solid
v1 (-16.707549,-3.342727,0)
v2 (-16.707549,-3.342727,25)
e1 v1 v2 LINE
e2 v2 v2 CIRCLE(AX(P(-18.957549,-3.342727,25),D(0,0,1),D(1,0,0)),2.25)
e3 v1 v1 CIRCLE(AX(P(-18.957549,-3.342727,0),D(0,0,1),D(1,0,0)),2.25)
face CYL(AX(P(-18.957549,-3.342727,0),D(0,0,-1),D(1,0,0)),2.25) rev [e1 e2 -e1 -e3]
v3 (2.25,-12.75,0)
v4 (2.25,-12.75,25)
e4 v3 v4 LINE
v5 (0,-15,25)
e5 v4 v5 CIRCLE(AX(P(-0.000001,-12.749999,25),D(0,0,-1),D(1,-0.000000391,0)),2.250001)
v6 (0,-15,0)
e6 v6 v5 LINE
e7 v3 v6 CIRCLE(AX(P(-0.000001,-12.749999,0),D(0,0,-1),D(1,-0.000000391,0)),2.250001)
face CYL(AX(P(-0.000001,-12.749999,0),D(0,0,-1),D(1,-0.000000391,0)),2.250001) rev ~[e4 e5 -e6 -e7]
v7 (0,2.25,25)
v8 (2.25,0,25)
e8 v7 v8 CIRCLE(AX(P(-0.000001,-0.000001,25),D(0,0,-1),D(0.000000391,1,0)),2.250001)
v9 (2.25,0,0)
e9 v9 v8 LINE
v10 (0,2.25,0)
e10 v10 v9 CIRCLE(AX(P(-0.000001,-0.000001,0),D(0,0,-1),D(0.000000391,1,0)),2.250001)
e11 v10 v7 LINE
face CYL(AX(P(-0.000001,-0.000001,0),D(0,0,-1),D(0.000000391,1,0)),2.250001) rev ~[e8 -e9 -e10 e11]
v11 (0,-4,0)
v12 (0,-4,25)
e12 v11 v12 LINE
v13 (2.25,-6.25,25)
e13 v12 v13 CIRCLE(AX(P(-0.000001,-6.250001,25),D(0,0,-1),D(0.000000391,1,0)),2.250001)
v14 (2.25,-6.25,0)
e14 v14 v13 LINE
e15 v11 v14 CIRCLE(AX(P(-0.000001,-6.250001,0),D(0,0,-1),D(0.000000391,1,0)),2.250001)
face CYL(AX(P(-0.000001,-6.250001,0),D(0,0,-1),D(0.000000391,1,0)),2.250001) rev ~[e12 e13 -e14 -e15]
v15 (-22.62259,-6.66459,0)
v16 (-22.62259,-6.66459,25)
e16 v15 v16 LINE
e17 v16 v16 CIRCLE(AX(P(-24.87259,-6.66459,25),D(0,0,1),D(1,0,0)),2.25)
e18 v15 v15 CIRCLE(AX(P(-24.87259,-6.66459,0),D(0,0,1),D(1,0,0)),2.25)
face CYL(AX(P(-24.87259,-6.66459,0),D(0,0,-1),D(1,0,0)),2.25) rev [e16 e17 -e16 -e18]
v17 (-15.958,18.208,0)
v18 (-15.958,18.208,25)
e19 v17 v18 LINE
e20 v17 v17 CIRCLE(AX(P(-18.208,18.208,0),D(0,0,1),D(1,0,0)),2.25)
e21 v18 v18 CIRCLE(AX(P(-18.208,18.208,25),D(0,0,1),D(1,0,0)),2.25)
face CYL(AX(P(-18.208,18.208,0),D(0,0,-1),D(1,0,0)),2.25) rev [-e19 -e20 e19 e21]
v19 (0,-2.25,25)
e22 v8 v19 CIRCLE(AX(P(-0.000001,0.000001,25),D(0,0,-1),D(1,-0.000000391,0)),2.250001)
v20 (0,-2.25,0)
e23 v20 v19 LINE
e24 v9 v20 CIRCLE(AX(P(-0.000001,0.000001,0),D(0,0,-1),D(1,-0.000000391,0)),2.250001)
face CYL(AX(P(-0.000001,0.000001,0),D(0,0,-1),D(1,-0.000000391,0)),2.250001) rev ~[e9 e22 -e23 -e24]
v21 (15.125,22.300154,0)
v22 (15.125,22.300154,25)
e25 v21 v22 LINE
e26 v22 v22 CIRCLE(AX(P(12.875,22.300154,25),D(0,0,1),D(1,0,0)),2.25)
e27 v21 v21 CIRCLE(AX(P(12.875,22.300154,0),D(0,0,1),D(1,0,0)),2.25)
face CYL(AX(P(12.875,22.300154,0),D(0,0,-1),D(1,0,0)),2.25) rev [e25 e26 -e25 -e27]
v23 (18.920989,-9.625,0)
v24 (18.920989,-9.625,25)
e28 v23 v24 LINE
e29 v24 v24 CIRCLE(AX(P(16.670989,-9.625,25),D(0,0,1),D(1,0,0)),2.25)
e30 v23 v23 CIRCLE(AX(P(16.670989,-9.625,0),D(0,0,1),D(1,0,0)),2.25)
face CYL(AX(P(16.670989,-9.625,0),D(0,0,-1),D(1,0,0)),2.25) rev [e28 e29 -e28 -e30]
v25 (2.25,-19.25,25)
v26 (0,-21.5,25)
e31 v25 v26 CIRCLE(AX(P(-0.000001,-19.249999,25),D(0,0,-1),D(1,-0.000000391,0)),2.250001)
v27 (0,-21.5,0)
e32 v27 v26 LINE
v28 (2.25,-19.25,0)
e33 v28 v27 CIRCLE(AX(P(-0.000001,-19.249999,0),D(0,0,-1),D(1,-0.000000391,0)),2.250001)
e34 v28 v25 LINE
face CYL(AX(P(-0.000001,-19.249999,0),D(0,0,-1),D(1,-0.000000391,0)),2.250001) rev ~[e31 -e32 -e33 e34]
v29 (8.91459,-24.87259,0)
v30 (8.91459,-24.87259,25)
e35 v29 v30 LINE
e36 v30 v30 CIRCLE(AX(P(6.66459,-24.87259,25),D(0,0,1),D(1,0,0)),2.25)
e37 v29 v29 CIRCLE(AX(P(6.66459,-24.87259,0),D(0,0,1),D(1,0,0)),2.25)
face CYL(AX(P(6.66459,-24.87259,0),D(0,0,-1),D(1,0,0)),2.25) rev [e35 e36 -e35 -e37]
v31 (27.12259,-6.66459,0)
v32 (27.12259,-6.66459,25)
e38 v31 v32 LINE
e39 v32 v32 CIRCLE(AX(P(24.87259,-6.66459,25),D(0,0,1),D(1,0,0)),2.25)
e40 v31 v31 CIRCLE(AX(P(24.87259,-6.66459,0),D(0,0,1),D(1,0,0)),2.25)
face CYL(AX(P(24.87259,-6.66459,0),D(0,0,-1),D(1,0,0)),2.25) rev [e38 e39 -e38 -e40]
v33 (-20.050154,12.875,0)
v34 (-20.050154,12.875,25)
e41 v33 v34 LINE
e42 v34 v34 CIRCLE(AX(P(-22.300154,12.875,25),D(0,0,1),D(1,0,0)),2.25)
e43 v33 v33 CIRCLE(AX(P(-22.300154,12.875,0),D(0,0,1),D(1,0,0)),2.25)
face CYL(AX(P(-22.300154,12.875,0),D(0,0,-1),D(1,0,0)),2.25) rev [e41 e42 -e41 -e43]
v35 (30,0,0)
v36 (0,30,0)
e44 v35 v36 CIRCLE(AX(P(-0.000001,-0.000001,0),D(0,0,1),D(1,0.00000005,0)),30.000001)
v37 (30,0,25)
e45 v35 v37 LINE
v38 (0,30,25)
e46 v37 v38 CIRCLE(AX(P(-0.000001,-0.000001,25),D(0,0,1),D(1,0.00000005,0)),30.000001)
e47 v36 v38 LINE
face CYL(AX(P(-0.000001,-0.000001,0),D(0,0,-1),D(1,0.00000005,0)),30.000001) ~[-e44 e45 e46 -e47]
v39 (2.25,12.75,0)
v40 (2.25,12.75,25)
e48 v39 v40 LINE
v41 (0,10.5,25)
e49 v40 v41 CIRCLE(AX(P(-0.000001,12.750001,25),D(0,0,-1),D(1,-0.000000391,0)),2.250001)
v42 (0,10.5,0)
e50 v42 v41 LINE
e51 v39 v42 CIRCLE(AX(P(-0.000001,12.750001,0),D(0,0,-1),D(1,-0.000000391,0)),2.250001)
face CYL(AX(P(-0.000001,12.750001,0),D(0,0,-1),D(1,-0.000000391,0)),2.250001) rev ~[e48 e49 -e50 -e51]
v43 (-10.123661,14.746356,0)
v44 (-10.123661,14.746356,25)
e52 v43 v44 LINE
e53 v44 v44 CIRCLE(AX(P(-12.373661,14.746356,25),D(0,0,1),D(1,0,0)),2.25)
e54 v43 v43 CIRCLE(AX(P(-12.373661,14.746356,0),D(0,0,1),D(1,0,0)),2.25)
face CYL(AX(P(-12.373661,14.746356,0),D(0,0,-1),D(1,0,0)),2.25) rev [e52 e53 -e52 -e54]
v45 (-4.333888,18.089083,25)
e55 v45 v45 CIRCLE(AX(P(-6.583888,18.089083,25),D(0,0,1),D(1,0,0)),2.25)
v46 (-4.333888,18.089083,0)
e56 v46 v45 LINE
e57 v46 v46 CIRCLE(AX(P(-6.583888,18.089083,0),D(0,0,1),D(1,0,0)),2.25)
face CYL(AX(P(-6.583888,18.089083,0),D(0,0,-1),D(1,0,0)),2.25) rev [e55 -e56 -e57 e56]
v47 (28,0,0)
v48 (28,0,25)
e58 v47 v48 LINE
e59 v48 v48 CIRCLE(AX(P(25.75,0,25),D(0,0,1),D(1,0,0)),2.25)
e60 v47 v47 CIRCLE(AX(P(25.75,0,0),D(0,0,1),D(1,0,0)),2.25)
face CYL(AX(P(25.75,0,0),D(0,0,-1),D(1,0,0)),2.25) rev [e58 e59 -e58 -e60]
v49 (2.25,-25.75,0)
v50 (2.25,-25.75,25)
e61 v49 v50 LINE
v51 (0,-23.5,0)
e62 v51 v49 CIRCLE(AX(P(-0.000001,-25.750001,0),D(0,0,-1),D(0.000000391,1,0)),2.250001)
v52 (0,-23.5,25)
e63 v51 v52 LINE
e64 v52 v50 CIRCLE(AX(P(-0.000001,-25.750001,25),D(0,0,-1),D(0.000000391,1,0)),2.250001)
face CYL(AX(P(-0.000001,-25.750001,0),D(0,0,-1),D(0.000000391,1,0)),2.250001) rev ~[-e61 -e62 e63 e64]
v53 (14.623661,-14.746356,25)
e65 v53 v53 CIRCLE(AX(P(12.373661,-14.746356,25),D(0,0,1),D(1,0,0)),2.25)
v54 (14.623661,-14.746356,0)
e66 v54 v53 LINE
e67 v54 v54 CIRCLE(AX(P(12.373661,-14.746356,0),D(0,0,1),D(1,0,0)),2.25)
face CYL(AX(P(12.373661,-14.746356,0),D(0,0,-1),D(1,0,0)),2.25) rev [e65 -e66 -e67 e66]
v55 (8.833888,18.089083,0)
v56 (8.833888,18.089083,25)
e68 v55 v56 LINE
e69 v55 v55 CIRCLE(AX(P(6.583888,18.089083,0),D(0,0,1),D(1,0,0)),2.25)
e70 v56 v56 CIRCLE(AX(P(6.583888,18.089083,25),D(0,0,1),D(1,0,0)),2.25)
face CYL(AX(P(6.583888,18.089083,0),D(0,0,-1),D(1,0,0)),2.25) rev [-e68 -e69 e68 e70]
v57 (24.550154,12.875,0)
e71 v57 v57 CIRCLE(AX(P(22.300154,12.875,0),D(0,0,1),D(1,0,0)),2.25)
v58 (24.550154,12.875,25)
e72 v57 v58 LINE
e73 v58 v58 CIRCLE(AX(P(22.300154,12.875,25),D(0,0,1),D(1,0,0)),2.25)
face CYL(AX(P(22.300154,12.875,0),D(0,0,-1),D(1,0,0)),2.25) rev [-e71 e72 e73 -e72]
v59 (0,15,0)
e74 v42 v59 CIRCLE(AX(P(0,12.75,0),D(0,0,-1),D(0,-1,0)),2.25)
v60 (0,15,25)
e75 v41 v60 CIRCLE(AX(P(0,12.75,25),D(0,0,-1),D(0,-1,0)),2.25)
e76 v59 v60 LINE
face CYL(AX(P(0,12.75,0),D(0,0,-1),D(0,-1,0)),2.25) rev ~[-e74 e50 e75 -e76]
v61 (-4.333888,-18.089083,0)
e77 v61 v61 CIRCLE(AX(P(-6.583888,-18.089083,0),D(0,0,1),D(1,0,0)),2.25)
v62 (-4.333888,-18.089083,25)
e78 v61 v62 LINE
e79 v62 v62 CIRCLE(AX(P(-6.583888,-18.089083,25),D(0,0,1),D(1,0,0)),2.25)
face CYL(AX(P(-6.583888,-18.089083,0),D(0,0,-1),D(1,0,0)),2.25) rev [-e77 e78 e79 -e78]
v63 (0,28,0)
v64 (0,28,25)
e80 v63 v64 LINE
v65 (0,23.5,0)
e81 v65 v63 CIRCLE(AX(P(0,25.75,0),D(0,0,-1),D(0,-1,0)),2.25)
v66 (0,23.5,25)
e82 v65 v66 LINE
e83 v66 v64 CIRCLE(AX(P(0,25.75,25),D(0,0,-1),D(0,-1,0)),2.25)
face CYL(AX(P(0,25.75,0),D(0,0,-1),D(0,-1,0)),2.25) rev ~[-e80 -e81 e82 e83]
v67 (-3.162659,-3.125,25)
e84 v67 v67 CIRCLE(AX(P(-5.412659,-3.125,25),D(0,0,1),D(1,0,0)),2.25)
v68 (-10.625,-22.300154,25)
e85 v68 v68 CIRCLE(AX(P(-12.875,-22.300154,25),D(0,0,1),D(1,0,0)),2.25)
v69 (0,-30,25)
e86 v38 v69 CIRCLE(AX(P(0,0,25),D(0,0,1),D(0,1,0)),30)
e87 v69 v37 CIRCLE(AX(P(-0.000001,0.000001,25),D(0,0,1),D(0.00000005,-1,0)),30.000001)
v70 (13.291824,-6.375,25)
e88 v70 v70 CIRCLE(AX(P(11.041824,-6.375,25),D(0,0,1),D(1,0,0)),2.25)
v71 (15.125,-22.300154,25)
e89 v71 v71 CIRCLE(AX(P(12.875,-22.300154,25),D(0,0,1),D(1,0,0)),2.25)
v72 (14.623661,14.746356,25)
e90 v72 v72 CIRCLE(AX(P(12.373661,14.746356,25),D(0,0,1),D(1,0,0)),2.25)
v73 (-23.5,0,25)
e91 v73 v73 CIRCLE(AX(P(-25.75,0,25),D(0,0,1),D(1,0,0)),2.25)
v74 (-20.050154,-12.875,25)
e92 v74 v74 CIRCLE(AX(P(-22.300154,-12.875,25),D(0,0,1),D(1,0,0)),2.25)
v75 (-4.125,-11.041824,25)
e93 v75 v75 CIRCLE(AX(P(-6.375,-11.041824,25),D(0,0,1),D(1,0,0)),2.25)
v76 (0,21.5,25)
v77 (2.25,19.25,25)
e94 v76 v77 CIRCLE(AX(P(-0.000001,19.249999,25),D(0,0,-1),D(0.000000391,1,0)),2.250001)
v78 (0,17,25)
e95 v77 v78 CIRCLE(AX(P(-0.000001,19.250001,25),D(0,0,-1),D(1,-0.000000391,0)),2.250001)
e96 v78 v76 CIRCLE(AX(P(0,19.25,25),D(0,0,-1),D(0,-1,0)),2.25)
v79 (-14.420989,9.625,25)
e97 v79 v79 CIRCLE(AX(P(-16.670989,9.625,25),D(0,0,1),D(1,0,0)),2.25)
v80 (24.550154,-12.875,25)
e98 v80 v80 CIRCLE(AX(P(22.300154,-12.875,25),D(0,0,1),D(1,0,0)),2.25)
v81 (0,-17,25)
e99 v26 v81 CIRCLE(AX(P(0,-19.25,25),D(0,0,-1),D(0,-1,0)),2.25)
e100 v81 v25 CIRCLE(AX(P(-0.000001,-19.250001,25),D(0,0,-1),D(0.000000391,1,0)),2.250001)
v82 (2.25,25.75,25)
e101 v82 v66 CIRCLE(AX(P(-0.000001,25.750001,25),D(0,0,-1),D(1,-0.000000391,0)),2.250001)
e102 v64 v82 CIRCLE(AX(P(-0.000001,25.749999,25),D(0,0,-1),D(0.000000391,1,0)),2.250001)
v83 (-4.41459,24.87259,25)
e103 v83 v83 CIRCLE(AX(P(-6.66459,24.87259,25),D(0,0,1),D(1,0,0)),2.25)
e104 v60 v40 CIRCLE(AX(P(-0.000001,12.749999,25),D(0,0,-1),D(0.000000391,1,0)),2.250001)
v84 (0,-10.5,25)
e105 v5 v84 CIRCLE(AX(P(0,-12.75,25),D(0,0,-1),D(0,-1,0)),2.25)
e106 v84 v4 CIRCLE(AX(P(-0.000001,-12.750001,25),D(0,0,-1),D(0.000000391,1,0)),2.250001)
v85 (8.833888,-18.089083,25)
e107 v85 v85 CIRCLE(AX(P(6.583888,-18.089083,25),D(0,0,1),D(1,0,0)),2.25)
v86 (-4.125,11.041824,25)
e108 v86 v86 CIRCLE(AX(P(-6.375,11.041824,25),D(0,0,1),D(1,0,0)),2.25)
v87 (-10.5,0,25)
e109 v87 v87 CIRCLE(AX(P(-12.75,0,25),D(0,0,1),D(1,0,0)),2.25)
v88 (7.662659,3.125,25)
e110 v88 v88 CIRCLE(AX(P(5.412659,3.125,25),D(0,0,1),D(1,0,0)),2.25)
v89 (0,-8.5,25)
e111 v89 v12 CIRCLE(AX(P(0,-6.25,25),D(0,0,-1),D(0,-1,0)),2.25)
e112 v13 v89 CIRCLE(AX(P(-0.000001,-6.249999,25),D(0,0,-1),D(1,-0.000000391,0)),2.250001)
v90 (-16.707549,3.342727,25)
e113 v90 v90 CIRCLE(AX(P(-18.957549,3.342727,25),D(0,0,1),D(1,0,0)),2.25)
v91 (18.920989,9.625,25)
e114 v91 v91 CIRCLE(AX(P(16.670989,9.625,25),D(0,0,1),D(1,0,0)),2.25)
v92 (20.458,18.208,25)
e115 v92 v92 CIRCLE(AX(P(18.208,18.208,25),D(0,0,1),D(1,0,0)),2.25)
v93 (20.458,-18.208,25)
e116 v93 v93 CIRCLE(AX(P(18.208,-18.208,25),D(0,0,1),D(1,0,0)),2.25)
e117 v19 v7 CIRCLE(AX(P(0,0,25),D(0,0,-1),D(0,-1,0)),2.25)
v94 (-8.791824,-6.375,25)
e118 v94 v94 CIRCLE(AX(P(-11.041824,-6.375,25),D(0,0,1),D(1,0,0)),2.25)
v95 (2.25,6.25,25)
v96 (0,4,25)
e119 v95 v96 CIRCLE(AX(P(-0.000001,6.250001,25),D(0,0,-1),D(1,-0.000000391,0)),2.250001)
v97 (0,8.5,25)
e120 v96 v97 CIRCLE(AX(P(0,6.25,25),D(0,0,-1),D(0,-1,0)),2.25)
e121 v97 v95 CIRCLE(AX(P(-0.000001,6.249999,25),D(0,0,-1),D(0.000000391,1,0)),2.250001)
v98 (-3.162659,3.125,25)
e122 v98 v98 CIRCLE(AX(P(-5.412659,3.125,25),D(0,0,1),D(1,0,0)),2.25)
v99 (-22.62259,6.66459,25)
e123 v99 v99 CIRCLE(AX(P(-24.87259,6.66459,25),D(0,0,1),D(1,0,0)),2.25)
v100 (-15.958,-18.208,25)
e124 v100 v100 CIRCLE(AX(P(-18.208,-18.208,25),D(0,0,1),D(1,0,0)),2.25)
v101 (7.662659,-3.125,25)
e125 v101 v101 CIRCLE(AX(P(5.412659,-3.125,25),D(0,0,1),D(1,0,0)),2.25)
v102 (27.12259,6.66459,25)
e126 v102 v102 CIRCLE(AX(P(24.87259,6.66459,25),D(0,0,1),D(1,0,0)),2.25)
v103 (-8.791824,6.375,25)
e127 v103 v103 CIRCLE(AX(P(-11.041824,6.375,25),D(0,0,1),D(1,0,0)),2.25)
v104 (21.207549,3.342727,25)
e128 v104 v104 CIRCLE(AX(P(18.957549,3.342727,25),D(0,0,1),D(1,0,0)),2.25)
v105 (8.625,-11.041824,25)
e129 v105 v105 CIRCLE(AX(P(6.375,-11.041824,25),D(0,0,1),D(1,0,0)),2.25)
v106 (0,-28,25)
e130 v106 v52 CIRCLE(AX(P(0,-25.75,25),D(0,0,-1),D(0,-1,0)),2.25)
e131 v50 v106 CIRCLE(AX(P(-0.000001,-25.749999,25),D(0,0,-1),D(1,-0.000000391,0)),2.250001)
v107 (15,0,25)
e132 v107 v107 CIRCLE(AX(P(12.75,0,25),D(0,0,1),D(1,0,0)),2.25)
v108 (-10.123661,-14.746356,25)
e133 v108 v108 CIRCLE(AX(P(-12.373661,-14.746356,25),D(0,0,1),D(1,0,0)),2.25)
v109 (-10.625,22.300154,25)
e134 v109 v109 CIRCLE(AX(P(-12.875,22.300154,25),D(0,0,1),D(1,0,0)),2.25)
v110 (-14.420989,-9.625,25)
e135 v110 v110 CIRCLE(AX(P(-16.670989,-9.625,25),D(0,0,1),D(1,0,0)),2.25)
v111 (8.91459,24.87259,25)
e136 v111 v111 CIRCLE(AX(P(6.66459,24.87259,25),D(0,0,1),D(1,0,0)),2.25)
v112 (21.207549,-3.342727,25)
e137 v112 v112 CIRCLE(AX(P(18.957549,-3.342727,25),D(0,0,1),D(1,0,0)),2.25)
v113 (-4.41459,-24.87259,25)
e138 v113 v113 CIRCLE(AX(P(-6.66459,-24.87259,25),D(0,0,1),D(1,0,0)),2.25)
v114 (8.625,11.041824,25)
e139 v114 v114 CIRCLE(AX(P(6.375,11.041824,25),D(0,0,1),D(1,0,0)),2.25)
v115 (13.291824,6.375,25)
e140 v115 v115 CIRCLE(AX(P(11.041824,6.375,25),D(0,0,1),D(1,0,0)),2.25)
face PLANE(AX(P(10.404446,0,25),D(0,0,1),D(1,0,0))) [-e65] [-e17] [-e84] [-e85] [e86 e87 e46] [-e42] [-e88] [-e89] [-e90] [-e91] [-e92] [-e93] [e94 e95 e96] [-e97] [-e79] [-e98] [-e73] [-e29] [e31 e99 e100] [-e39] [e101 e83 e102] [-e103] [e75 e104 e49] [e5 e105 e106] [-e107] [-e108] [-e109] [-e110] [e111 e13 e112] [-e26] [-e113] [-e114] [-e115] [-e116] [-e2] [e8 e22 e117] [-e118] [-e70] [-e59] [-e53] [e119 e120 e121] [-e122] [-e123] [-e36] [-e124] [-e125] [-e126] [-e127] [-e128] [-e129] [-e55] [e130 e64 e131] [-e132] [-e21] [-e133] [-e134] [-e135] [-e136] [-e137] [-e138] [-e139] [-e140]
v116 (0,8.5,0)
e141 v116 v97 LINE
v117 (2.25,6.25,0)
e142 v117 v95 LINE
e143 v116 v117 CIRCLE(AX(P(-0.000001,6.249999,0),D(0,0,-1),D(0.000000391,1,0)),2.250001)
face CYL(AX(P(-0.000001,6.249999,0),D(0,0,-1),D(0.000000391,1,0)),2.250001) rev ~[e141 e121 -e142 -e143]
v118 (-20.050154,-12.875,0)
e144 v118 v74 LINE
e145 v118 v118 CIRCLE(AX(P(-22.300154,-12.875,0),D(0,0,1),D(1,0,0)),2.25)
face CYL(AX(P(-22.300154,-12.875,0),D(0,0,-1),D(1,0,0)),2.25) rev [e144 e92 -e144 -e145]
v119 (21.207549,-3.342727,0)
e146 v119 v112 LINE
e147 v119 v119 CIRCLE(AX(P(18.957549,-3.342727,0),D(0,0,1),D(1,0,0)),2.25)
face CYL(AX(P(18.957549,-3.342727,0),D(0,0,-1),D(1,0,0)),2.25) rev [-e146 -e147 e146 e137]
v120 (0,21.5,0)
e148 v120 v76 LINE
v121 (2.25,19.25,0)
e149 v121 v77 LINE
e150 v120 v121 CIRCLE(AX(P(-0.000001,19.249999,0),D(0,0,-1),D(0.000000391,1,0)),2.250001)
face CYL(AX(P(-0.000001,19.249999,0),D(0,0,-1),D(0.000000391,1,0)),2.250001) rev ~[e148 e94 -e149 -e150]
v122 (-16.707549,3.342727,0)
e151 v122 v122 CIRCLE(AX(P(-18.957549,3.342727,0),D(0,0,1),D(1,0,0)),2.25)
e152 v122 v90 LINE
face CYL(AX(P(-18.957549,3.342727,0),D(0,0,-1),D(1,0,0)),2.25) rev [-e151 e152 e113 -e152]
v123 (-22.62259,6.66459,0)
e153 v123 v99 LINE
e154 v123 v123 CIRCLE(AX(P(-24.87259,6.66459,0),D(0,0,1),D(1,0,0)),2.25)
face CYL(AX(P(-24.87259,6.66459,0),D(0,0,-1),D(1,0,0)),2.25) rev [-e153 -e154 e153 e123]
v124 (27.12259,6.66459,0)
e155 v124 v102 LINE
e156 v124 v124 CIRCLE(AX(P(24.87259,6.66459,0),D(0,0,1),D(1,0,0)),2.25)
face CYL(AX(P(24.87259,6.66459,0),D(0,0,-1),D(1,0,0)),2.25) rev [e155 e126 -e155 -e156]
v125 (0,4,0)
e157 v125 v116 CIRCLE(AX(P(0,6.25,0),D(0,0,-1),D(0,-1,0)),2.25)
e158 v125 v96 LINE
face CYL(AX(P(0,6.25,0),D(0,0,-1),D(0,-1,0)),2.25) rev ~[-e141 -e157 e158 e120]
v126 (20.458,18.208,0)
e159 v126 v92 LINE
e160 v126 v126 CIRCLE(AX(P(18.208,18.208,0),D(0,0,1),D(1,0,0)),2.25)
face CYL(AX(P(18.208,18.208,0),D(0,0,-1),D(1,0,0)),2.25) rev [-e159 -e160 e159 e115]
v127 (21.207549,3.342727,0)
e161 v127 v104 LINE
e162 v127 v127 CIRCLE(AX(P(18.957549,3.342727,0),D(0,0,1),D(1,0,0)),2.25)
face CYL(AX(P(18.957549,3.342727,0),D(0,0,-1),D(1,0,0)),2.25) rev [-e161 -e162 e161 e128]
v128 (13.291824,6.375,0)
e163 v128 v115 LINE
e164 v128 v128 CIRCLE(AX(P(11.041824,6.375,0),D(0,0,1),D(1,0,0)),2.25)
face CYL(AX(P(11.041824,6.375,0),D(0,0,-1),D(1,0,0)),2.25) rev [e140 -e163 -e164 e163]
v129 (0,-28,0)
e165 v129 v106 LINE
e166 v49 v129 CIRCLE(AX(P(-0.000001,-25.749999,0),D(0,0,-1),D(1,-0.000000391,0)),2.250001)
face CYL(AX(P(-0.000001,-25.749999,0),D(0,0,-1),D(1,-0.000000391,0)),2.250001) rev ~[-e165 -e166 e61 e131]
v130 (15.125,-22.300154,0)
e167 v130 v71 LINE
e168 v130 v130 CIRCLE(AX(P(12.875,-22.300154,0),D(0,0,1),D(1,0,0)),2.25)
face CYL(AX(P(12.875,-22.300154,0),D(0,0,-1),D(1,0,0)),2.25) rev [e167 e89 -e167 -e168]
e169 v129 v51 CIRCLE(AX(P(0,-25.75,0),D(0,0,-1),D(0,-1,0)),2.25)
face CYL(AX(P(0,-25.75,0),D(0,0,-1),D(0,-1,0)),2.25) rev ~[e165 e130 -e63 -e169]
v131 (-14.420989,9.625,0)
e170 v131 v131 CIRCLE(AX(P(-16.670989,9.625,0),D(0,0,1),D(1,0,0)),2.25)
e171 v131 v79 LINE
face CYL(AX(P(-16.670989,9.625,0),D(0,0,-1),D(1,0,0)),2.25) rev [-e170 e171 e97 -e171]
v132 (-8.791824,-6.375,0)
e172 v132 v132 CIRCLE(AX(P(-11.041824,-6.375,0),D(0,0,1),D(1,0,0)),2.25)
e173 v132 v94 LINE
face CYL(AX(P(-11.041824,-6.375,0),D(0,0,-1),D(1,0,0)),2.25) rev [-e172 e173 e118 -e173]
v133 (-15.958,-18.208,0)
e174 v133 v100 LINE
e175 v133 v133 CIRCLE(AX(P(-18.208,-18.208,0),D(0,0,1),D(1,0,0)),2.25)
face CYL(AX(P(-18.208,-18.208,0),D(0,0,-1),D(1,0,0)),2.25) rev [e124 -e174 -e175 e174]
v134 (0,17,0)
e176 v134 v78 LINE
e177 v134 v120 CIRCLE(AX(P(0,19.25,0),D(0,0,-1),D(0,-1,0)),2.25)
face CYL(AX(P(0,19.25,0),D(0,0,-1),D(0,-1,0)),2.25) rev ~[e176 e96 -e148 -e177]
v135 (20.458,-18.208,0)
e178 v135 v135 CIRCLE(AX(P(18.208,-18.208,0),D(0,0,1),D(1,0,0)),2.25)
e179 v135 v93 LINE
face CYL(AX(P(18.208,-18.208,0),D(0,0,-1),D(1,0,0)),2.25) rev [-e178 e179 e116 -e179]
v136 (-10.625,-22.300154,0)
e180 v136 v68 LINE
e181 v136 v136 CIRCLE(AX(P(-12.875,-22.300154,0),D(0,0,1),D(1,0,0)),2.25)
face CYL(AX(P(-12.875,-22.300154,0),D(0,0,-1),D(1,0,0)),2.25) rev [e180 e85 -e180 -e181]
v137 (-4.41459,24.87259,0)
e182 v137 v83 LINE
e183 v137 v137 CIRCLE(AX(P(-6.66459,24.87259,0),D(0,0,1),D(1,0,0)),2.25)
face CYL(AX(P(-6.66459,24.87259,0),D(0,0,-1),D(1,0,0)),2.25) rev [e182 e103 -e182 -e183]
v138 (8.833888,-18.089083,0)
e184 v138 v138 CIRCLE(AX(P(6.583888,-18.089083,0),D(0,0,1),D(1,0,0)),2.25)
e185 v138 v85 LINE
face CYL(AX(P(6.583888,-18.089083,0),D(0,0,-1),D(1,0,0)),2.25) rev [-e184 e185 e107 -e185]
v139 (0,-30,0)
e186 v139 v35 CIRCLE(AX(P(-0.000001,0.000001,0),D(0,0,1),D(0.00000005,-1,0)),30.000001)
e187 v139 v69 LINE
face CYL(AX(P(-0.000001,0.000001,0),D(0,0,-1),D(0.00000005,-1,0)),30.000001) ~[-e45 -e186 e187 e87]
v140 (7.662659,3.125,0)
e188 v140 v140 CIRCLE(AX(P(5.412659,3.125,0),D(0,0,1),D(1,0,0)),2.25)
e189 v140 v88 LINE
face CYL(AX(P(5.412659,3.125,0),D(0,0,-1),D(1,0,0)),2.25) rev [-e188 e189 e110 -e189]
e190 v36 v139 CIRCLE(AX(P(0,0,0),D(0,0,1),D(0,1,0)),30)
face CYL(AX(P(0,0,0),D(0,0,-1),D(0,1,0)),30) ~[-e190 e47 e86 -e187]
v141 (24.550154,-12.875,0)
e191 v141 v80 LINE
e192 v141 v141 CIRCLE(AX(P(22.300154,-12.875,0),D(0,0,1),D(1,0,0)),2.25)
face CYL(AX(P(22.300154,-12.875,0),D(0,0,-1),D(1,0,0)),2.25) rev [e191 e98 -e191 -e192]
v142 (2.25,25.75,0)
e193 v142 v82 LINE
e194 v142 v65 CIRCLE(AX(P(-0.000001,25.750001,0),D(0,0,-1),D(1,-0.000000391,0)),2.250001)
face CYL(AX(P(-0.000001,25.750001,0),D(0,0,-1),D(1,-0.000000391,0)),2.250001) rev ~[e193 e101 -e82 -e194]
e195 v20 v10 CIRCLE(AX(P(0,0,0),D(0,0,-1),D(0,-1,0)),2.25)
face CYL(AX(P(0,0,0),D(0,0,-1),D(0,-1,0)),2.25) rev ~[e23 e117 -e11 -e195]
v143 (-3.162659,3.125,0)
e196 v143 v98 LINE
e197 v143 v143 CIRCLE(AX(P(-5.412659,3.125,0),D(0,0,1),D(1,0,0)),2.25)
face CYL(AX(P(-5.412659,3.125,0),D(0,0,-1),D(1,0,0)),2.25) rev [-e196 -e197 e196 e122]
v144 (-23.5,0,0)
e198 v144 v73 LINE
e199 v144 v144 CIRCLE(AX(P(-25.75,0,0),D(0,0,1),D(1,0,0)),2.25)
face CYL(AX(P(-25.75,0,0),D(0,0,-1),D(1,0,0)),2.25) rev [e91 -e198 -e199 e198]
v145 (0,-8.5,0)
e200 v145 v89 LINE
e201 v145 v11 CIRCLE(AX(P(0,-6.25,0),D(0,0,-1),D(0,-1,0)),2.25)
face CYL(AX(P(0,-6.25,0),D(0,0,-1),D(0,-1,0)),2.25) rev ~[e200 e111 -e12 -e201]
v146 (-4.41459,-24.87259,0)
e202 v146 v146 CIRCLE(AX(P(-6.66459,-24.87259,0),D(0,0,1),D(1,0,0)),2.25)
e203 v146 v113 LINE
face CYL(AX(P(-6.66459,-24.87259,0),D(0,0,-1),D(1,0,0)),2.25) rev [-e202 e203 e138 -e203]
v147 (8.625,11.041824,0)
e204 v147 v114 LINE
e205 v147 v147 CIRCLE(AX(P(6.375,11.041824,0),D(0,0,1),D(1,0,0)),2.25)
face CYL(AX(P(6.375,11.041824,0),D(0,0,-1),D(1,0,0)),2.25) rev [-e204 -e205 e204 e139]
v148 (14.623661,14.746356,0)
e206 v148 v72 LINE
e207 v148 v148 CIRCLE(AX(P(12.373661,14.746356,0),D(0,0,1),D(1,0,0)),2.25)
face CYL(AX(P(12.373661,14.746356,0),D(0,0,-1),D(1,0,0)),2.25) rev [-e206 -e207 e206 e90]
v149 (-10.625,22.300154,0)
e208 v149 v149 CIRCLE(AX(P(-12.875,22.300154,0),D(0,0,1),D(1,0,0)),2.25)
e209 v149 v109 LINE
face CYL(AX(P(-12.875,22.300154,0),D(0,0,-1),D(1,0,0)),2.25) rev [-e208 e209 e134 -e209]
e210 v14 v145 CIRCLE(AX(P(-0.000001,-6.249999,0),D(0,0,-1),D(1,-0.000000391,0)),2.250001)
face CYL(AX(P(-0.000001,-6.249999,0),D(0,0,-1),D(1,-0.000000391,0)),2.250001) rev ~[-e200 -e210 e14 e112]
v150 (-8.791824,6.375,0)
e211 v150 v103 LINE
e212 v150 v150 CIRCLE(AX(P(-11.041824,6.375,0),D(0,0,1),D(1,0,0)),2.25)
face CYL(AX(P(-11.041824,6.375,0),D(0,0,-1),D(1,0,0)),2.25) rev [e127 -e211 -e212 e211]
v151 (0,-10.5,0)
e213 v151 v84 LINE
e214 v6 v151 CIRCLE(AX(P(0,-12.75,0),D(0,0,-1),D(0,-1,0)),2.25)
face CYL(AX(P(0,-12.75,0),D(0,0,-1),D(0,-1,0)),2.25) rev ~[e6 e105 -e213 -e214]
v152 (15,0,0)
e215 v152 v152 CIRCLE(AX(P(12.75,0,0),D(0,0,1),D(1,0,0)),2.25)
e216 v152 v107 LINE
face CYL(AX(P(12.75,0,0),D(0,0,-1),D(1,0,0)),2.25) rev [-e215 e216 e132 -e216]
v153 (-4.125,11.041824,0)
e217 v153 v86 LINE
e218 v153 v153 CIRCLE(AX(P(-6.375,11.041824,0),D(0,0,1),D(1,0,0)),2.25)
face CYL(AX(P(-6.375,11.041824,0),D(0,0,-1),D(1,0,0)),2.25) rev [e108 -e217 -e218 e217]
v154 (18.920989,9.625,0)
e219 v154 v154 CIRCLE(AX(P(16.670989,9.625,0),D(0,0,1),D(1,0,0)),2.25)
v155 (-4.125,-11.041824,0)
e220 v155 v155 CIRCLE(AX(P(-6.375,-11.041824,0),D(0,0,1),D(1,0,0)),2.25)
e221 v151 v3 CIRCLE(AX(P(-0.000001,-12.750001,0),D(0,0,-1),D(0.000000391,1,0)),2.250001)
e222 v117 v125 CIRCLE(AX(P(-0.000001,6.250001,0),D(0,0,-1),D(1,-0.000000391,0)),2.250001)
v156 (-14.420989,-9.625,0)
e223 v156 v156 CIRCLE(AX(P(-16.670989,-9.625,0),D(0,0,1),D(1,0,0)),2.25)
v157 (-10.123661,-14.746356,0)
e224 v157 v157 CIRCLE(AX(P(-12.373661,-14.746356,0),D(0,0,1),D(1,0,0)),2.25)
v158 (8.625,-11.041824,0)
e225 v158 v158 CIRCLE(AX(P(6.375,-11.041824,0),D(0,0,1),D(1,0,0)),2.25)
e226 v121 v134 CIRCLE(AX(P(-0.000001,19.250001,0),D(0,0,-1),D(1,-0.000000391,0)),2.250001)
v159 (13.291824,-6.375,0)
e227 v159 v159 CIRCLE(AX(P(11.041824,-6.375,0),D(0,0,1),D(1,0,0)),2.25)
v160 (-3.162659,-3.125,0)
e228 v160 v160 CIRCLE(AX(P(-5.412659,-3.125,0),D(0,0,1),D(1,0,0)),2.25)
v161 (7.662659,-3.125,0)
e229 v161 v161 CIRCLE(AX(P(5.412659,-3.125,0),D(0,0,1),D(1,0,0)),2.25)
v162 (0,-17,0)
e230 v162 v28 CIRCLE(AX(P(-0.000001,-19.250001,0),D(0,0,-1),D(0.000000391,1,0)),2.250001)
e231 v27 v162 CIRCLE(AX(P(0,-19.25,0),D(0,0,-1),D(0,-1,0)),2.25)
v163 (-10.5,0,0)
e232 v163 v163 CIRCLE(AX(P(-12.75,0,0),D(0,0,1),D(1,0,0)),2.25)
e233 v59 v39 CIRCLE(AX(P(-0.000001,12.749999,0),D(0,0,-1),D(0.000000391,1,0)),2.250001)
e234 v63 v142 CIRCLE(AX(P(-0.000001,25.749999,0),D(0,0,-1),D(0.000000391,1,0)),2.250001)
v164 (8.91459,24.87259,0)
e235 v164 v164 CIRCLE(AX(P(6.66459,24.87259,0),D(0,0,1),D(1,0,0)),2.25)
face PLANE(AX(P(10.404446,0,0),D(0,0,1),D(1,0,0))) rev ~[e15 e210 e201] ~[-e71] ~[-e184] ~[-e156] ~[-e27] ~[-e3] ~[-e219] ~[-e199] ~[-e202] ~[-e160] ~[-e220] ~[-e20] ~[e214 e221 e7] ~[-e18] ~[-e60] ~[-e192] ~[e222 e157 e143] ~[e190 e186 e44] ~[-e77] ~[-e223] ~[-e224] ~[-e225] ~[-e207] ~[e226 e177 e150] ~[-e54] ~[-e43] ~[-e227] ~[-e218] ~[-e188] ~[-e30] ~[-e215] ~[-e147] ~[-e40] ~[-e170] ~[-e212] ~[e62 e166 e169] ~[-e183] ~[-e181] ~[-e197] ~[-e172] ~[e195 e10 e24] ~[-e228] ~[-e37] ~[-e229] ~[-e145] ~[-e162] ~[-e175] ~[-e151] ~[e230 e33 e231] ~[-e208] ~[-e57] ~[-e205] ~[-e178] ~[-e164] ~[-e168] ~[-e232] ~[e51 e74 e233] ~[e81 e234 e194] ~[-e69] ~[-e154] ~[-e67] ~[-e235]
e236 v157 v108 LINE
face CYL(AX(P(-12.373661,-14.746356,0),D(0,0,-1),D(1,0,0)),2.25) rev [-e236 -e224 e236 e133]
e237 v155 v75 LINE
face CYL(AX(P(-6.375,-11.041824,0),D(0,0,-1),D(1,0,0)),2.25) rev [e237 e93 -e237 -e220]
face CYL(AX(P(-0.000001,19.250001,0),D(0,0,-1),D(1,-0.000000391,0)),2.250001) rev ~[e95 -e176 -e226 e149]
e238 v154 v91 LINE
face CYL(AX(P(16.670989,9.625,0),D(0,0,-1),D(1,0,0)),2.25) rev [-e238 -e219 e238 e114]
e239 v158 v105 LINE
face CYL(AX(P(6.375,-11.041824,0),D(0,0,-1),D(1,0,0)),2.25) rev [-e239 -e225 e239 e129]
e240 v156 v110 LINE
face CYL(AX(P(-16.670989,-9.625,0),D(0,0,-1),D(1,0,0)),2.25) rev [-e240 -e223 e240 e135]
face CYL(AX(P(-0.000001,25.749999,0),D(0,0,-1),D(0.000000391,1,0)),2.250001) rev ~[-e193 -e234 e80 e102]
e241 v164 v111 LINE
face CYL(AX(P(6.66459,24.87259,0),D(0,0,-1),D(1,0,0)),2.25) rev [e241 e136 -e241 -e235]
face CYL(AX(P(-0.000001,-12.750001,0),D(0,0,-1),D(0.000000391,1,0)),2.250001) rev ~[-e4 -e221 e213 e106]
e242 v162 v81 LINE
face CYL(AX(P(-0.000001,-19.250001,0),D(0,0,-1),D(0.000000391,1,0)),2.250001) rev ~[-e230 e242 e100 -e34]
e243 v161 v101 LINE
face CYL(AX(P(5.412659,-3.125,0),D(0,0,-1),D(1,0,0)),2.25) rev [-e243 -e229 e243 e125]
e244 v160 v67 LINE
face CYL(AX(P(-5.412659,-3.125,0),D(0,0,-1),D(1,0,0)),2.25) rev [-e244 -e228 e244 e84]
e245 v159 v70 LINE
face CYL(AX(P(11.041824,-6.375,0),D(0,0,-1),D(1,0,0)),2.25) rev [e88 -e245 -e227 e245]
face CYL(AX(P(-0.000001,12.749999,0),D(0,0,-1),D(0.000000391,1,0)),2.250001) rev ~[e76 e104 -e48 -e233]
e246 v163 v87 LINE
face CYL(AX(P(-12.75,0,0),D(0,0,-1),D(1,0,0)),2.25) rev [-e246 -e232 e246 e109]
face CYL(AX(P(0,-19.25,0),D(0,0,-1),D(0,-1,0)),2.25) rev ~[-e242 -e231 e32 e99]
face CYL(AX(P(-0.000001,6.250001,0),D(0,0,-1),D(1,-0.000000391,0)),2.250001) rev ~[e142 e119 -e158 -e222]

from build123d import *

# Parameters (mm, degrees)
F0_R     = 2.25
F1_DEPTH = 25


with BuildPart() as f1:
    # F0 (on Top) → F1 (new body)
    with BuildSketch(Plane.XY):
        with BuildLine():
            ThreePointArc((0, -30), (21.213203, -21.213203), (30, 0))
            ThreePointArc((30, 0), (21.213203, 21.213203), (0, 30))
            Line((0, 30), (0, 28))
            ThreePointArc((0, 28), (1.59099, 27.34099), (2.25, 25.75))
            ThreePointArc((2.25, 25.75), (1.59099, 24.15901), (0, 23.5))
            Line((0, 23.5), (0, 21.5))
            ThreePointArc((0, 21.5), (1.59099, 20.84099), (2.25, 19.25))
            ThreePointArc((2.25, 19.25), (1.59099, 17.65901), (0, 17))
            Line((0, 17), (0, 15))
            ThreePointArc((0, 15), (1.59099, 14.34099), (2.25, 12.75))
            ThreePointArc((2.25, 12.75), (1.59099, 11.15901), (0, 10.5))
            Line((0, 10.5), (0, 8.5))
            ThreePointArc((0, 8.5), (1.59099, 7.84099), (2.25, 6.25))
            ThreePointArc((2.25, 6.25), (1.59099, 4.65901), (0, 4))
            Line((0, 4), (0, 2.25))
            ThreePointArc((0, 2.25), (1.59099, 1.59099), (2.25, 0))
            ThreePointArc((2.25, 0), (1.59099, -1.59099), (0, -2.25))
            Line((0, -2.25), (0, -4))
            ThreePointArc((0, -4), (1.59099, -4.65901), (2.25, -6.25))
            ThreePointArc((2.25, -6.25), (1.59099, -7.84099), (0, -8.5))
            Line((0, -8.5), (0, -10.5))
            ThreePointArc((0, -10.5), (1.59099, -11.15901), (2.25, -12.75))
            ThreePointArc((2.25, -12.75), (1.59099, -14.34099), (0, -15))
            Line((0, -15), (0, -17))
            ThreePointArc((0, -17), (1.59099, -17.65901), (2.25, -19.25))
            ThreePointArc((2.25, -19.25), (1.59099, -20.84099), (0, -21.5))
            Line((0, -21.5), (0, -23.5))
            ThreePointArc((0, -23.5), (1.59099, -24.15901), (2.25, -25.75))
            ThreePointArc((2.25, -25.75), (1.59099, -27.34099), (0, -28))
            Line((0, -28), (0, -30))
        make_face()
        with Locations((6.66459, -24.87259)):
            Circle(F0_R, mode=Mode.SUBTRACT)
        with Locations((6.583888, -18.089083)):
            Circle(F0_R, mode=Mode.SUBTRACT)
        with Locations((12.875, -22.300154)):
            Circle(F0_R, mode=Mode.SUBTRACT)
        with Locations((18.208, -18.208)):
            Circle(F0_R, mode=Mode.SUBTRACT)
        with Locations((6.375, -11.041824)):
            Circle(F0_R, mode=Mode.SUBTRACT)
        with Locations((12.373661, -14.746356)):
            Circle(F0_R, mode=Mode.SUBTRACT)
        with Locations((5.412659, -3.125)):
            Circle(F0_R, mode=Mode.SUBTRACT)
        with Locations((11.041824, -6.375)):
            Circle(F0_R, mode=Mode.SUBTRACT)
        with Locations((22.300154, -12.875)):
            Circle(F0_R, mode=Mode.SUBTRACT)
        with Locations((16.670989, -9.625)):
            Circle(F0_R, mode=Mode.SUBTRACT)
        with Locations((18.957549, -3.342727)):
            Circle(F0_R, mode=Mode.SUBTRACT)
        with Locations((24.87259, -6.66459)):
            Circle(F0_R, mode=Mode.SUBTRACT)
        with Locations((5.412659, 3.125)):
            Circle(F0_R, mode=Mode.SUBTRACT)
        with Locations((12.75, 0)):
            Circle(F0_R, mode=Mode.SUBTRACT)
        with Locations((11.041824, 6.375)):
            Circle(F0_R, mode=Mode.SUBTRACT)
        with Locations((6.375, 11.041824)):
            Circle(F0_R, mode=Mode.SUBTRACT)
        with Locations((12.373661, 14.746356)):
            Circle(F0_R, mode=Mode.SUBTRACT)
        with Locations((18.957549, 3.342727)):
            Circle(F0_R, mode=Mode.SUBTRACT)
        with Locations((25.75, 0)):
            Circle(F0_R, mode=Mode.SUBTRACT)
        with Locations((24.87259, 6.66459)):
            Circle(F0_R, mode=Mode.SUBTRACT)
        with Locations((16.670989, 9.625)):
            Circle(F0_R, mode=Mode.SUBTRACT)
        with Locations((22.300154, 12.875)):
            Circle(F0_R, mode=Mode.SUBTRACT)
        with Locations((6.583888, 18.089083)):
            Circle(F0_R, mode=Mode.SUBTRACT)
        with Locations((12.875, 22.300154)):
            Circle(F0_R, mode=Mode.SUBTRACT)
        with Locations((6.66459, 24.87259)):
            Circle(F0_R, mode=Mode.SUBTRACT)
        with Locations((18.208, 18.208)):
            Circle(F0_R, mode=Mode.SUBTRACT)
        with BuildLine():
            Line((0, 28), (0, 30))
            ThreePointArc((0, 30), (-30, 0), (0, -30))
            Line((0, -30), (0, -28))
            ThreePointArc((0, -28), (-2.25, -25.75), (0, -23.5))
            Line((0, -23.5), (0, -21.5))
            ThreePointArc((0, -21.5), (-2.25, -19.25), (0, -17))
            Line((0, -17), (0, -15))
            ThreePointArc((0, -15), (-2.25, -12.75), (0, -10.5))
            Line((0, -10.5), (0, -8.5))
            ThreePointArc((0, -8.5), (-2.25, -6.25), (0, -4))
            Line((0, -4), (0, -2.25))
            ThreePointArc((0, -2.25), (-2.25, 0), (0, 2.25))
            Line((0, 2.25), (0, 4))
            ThreePointArc((0, 4), (-2.25, 6.25), (0, 8.5))
            Line((0, 8.5), (0, 10.5))
            ThreePointArc((0, 10.5), (-2.25, 12.75), (0, 15))
            Line((0, 15), (0, 17))
            ThreePointArc((0, 17), (-2.25, 19.25), (0, 21.5))
            Line((0, 21.5), (0, 23.5))
            ThreePointArc((0, 23.5), (-2.25, 25.75), (0, 28))
        make_face()
        with Locations((-18.208, -18.208)):
            Circle(F0_R, mode=Mode.SUBTRACT)
        with Locations((-6.66459, -24.87259)):
            Circle(F0_R, mode=Mode.SUBTRACT)
        with Locations((-12.875, -22.300154)):
            Circle(F0_R, mode=Mode.SUBTRACT)
        with Locations((-6.583888, -18.089083)):
            Circle(F0_R, mode=Mode.SUBTRACT)
        with Locations((-22.300154, -12.875)):
            Circle(F0_R, mode=Mode.SUBTRACT)
        with Locations((-16.670989, -9.625)):
            Circle(F0_R, mode=Mode.SUBTRACT)
        with Locations((-24.87259, -6.66459)):
            Circle(F0_R, mode=Mode.SUBTRACT)
        with Locations((-18.957549, -3.342727)):
            Circle(F0_R, mode=Mode.SUBTRACT)
        with Locations((-12.373661, -14.746356)):
            Circle(F0_R, mode=Mode.SUBTRACT)
        with Locations((-6.375, -11.041824)):
            Circle(F0_R, mode=Mode.SUBTRACT)
        with Locations((-11.041824, -6.375)):
            Circle(F0_R, mode=Mode.SUBTRACT)
        with Locations((-5.412659, -3.125)):
            Circle(F0_R, mode=Mode.SUBTRACT)
        with Locations((-25.75, 0)):
            Circle(F0_R, mode=Mode.SUBTRACT)
        with Locations((-24.87259, 6.66459)):
            Circle(F0_R, mode=Mode.SUBTRACT)
        with Locations((-18.957549, 3.342727)):
            Circle(F0_R, mode=Mode.SUBTRACT)
        with Locations((-16.670989, 9.625)):
            Circle(F0_R, mode=Mode.SUBTRACT)
        with Locations((-22.300154, 12.875)):
            Circle(F0_R, mode=Mode.SUBTRACT)
        with Locations((-12.75, 0)):
            Circle(F0_R, mode=Mode.SUBTRACT)
        with Locations((-11.041824, 6.375)):
            Circle(F0_R, mode=Mode.SUBTRACT)
        with Locations((-5.412659, 3.125)):
            Circle(F0_R, mode=Mode.SUBTRACT)
        with Locations((-12.373661, 14.746356)):
            Circle(F0_R, mode=Mode.SUBTRACT)
        with Locations((-6.375, 11.041824)):
            Circle(F0_R, mode=Mode.SUBTRACT)
        with Locations((-18.208, 18.208)):
            Circle(F0_R, mode=Mode.SUBTRACT)
        with Locations((-12.875, 22.300154)):
            Circle(F0_R, mode=Mode.SUBTRACT)
        with Locations((-6.583888, 18.089083)):
            Circle(F0_R, mode=Mode.SUBTRACT)
        with Locations((-6.66459, 24.87259)):
            Circle(F0_R, mode=Mode.SUBTRACT)
    extrude(amount=F1_DEPTH)


solid = f1.part
